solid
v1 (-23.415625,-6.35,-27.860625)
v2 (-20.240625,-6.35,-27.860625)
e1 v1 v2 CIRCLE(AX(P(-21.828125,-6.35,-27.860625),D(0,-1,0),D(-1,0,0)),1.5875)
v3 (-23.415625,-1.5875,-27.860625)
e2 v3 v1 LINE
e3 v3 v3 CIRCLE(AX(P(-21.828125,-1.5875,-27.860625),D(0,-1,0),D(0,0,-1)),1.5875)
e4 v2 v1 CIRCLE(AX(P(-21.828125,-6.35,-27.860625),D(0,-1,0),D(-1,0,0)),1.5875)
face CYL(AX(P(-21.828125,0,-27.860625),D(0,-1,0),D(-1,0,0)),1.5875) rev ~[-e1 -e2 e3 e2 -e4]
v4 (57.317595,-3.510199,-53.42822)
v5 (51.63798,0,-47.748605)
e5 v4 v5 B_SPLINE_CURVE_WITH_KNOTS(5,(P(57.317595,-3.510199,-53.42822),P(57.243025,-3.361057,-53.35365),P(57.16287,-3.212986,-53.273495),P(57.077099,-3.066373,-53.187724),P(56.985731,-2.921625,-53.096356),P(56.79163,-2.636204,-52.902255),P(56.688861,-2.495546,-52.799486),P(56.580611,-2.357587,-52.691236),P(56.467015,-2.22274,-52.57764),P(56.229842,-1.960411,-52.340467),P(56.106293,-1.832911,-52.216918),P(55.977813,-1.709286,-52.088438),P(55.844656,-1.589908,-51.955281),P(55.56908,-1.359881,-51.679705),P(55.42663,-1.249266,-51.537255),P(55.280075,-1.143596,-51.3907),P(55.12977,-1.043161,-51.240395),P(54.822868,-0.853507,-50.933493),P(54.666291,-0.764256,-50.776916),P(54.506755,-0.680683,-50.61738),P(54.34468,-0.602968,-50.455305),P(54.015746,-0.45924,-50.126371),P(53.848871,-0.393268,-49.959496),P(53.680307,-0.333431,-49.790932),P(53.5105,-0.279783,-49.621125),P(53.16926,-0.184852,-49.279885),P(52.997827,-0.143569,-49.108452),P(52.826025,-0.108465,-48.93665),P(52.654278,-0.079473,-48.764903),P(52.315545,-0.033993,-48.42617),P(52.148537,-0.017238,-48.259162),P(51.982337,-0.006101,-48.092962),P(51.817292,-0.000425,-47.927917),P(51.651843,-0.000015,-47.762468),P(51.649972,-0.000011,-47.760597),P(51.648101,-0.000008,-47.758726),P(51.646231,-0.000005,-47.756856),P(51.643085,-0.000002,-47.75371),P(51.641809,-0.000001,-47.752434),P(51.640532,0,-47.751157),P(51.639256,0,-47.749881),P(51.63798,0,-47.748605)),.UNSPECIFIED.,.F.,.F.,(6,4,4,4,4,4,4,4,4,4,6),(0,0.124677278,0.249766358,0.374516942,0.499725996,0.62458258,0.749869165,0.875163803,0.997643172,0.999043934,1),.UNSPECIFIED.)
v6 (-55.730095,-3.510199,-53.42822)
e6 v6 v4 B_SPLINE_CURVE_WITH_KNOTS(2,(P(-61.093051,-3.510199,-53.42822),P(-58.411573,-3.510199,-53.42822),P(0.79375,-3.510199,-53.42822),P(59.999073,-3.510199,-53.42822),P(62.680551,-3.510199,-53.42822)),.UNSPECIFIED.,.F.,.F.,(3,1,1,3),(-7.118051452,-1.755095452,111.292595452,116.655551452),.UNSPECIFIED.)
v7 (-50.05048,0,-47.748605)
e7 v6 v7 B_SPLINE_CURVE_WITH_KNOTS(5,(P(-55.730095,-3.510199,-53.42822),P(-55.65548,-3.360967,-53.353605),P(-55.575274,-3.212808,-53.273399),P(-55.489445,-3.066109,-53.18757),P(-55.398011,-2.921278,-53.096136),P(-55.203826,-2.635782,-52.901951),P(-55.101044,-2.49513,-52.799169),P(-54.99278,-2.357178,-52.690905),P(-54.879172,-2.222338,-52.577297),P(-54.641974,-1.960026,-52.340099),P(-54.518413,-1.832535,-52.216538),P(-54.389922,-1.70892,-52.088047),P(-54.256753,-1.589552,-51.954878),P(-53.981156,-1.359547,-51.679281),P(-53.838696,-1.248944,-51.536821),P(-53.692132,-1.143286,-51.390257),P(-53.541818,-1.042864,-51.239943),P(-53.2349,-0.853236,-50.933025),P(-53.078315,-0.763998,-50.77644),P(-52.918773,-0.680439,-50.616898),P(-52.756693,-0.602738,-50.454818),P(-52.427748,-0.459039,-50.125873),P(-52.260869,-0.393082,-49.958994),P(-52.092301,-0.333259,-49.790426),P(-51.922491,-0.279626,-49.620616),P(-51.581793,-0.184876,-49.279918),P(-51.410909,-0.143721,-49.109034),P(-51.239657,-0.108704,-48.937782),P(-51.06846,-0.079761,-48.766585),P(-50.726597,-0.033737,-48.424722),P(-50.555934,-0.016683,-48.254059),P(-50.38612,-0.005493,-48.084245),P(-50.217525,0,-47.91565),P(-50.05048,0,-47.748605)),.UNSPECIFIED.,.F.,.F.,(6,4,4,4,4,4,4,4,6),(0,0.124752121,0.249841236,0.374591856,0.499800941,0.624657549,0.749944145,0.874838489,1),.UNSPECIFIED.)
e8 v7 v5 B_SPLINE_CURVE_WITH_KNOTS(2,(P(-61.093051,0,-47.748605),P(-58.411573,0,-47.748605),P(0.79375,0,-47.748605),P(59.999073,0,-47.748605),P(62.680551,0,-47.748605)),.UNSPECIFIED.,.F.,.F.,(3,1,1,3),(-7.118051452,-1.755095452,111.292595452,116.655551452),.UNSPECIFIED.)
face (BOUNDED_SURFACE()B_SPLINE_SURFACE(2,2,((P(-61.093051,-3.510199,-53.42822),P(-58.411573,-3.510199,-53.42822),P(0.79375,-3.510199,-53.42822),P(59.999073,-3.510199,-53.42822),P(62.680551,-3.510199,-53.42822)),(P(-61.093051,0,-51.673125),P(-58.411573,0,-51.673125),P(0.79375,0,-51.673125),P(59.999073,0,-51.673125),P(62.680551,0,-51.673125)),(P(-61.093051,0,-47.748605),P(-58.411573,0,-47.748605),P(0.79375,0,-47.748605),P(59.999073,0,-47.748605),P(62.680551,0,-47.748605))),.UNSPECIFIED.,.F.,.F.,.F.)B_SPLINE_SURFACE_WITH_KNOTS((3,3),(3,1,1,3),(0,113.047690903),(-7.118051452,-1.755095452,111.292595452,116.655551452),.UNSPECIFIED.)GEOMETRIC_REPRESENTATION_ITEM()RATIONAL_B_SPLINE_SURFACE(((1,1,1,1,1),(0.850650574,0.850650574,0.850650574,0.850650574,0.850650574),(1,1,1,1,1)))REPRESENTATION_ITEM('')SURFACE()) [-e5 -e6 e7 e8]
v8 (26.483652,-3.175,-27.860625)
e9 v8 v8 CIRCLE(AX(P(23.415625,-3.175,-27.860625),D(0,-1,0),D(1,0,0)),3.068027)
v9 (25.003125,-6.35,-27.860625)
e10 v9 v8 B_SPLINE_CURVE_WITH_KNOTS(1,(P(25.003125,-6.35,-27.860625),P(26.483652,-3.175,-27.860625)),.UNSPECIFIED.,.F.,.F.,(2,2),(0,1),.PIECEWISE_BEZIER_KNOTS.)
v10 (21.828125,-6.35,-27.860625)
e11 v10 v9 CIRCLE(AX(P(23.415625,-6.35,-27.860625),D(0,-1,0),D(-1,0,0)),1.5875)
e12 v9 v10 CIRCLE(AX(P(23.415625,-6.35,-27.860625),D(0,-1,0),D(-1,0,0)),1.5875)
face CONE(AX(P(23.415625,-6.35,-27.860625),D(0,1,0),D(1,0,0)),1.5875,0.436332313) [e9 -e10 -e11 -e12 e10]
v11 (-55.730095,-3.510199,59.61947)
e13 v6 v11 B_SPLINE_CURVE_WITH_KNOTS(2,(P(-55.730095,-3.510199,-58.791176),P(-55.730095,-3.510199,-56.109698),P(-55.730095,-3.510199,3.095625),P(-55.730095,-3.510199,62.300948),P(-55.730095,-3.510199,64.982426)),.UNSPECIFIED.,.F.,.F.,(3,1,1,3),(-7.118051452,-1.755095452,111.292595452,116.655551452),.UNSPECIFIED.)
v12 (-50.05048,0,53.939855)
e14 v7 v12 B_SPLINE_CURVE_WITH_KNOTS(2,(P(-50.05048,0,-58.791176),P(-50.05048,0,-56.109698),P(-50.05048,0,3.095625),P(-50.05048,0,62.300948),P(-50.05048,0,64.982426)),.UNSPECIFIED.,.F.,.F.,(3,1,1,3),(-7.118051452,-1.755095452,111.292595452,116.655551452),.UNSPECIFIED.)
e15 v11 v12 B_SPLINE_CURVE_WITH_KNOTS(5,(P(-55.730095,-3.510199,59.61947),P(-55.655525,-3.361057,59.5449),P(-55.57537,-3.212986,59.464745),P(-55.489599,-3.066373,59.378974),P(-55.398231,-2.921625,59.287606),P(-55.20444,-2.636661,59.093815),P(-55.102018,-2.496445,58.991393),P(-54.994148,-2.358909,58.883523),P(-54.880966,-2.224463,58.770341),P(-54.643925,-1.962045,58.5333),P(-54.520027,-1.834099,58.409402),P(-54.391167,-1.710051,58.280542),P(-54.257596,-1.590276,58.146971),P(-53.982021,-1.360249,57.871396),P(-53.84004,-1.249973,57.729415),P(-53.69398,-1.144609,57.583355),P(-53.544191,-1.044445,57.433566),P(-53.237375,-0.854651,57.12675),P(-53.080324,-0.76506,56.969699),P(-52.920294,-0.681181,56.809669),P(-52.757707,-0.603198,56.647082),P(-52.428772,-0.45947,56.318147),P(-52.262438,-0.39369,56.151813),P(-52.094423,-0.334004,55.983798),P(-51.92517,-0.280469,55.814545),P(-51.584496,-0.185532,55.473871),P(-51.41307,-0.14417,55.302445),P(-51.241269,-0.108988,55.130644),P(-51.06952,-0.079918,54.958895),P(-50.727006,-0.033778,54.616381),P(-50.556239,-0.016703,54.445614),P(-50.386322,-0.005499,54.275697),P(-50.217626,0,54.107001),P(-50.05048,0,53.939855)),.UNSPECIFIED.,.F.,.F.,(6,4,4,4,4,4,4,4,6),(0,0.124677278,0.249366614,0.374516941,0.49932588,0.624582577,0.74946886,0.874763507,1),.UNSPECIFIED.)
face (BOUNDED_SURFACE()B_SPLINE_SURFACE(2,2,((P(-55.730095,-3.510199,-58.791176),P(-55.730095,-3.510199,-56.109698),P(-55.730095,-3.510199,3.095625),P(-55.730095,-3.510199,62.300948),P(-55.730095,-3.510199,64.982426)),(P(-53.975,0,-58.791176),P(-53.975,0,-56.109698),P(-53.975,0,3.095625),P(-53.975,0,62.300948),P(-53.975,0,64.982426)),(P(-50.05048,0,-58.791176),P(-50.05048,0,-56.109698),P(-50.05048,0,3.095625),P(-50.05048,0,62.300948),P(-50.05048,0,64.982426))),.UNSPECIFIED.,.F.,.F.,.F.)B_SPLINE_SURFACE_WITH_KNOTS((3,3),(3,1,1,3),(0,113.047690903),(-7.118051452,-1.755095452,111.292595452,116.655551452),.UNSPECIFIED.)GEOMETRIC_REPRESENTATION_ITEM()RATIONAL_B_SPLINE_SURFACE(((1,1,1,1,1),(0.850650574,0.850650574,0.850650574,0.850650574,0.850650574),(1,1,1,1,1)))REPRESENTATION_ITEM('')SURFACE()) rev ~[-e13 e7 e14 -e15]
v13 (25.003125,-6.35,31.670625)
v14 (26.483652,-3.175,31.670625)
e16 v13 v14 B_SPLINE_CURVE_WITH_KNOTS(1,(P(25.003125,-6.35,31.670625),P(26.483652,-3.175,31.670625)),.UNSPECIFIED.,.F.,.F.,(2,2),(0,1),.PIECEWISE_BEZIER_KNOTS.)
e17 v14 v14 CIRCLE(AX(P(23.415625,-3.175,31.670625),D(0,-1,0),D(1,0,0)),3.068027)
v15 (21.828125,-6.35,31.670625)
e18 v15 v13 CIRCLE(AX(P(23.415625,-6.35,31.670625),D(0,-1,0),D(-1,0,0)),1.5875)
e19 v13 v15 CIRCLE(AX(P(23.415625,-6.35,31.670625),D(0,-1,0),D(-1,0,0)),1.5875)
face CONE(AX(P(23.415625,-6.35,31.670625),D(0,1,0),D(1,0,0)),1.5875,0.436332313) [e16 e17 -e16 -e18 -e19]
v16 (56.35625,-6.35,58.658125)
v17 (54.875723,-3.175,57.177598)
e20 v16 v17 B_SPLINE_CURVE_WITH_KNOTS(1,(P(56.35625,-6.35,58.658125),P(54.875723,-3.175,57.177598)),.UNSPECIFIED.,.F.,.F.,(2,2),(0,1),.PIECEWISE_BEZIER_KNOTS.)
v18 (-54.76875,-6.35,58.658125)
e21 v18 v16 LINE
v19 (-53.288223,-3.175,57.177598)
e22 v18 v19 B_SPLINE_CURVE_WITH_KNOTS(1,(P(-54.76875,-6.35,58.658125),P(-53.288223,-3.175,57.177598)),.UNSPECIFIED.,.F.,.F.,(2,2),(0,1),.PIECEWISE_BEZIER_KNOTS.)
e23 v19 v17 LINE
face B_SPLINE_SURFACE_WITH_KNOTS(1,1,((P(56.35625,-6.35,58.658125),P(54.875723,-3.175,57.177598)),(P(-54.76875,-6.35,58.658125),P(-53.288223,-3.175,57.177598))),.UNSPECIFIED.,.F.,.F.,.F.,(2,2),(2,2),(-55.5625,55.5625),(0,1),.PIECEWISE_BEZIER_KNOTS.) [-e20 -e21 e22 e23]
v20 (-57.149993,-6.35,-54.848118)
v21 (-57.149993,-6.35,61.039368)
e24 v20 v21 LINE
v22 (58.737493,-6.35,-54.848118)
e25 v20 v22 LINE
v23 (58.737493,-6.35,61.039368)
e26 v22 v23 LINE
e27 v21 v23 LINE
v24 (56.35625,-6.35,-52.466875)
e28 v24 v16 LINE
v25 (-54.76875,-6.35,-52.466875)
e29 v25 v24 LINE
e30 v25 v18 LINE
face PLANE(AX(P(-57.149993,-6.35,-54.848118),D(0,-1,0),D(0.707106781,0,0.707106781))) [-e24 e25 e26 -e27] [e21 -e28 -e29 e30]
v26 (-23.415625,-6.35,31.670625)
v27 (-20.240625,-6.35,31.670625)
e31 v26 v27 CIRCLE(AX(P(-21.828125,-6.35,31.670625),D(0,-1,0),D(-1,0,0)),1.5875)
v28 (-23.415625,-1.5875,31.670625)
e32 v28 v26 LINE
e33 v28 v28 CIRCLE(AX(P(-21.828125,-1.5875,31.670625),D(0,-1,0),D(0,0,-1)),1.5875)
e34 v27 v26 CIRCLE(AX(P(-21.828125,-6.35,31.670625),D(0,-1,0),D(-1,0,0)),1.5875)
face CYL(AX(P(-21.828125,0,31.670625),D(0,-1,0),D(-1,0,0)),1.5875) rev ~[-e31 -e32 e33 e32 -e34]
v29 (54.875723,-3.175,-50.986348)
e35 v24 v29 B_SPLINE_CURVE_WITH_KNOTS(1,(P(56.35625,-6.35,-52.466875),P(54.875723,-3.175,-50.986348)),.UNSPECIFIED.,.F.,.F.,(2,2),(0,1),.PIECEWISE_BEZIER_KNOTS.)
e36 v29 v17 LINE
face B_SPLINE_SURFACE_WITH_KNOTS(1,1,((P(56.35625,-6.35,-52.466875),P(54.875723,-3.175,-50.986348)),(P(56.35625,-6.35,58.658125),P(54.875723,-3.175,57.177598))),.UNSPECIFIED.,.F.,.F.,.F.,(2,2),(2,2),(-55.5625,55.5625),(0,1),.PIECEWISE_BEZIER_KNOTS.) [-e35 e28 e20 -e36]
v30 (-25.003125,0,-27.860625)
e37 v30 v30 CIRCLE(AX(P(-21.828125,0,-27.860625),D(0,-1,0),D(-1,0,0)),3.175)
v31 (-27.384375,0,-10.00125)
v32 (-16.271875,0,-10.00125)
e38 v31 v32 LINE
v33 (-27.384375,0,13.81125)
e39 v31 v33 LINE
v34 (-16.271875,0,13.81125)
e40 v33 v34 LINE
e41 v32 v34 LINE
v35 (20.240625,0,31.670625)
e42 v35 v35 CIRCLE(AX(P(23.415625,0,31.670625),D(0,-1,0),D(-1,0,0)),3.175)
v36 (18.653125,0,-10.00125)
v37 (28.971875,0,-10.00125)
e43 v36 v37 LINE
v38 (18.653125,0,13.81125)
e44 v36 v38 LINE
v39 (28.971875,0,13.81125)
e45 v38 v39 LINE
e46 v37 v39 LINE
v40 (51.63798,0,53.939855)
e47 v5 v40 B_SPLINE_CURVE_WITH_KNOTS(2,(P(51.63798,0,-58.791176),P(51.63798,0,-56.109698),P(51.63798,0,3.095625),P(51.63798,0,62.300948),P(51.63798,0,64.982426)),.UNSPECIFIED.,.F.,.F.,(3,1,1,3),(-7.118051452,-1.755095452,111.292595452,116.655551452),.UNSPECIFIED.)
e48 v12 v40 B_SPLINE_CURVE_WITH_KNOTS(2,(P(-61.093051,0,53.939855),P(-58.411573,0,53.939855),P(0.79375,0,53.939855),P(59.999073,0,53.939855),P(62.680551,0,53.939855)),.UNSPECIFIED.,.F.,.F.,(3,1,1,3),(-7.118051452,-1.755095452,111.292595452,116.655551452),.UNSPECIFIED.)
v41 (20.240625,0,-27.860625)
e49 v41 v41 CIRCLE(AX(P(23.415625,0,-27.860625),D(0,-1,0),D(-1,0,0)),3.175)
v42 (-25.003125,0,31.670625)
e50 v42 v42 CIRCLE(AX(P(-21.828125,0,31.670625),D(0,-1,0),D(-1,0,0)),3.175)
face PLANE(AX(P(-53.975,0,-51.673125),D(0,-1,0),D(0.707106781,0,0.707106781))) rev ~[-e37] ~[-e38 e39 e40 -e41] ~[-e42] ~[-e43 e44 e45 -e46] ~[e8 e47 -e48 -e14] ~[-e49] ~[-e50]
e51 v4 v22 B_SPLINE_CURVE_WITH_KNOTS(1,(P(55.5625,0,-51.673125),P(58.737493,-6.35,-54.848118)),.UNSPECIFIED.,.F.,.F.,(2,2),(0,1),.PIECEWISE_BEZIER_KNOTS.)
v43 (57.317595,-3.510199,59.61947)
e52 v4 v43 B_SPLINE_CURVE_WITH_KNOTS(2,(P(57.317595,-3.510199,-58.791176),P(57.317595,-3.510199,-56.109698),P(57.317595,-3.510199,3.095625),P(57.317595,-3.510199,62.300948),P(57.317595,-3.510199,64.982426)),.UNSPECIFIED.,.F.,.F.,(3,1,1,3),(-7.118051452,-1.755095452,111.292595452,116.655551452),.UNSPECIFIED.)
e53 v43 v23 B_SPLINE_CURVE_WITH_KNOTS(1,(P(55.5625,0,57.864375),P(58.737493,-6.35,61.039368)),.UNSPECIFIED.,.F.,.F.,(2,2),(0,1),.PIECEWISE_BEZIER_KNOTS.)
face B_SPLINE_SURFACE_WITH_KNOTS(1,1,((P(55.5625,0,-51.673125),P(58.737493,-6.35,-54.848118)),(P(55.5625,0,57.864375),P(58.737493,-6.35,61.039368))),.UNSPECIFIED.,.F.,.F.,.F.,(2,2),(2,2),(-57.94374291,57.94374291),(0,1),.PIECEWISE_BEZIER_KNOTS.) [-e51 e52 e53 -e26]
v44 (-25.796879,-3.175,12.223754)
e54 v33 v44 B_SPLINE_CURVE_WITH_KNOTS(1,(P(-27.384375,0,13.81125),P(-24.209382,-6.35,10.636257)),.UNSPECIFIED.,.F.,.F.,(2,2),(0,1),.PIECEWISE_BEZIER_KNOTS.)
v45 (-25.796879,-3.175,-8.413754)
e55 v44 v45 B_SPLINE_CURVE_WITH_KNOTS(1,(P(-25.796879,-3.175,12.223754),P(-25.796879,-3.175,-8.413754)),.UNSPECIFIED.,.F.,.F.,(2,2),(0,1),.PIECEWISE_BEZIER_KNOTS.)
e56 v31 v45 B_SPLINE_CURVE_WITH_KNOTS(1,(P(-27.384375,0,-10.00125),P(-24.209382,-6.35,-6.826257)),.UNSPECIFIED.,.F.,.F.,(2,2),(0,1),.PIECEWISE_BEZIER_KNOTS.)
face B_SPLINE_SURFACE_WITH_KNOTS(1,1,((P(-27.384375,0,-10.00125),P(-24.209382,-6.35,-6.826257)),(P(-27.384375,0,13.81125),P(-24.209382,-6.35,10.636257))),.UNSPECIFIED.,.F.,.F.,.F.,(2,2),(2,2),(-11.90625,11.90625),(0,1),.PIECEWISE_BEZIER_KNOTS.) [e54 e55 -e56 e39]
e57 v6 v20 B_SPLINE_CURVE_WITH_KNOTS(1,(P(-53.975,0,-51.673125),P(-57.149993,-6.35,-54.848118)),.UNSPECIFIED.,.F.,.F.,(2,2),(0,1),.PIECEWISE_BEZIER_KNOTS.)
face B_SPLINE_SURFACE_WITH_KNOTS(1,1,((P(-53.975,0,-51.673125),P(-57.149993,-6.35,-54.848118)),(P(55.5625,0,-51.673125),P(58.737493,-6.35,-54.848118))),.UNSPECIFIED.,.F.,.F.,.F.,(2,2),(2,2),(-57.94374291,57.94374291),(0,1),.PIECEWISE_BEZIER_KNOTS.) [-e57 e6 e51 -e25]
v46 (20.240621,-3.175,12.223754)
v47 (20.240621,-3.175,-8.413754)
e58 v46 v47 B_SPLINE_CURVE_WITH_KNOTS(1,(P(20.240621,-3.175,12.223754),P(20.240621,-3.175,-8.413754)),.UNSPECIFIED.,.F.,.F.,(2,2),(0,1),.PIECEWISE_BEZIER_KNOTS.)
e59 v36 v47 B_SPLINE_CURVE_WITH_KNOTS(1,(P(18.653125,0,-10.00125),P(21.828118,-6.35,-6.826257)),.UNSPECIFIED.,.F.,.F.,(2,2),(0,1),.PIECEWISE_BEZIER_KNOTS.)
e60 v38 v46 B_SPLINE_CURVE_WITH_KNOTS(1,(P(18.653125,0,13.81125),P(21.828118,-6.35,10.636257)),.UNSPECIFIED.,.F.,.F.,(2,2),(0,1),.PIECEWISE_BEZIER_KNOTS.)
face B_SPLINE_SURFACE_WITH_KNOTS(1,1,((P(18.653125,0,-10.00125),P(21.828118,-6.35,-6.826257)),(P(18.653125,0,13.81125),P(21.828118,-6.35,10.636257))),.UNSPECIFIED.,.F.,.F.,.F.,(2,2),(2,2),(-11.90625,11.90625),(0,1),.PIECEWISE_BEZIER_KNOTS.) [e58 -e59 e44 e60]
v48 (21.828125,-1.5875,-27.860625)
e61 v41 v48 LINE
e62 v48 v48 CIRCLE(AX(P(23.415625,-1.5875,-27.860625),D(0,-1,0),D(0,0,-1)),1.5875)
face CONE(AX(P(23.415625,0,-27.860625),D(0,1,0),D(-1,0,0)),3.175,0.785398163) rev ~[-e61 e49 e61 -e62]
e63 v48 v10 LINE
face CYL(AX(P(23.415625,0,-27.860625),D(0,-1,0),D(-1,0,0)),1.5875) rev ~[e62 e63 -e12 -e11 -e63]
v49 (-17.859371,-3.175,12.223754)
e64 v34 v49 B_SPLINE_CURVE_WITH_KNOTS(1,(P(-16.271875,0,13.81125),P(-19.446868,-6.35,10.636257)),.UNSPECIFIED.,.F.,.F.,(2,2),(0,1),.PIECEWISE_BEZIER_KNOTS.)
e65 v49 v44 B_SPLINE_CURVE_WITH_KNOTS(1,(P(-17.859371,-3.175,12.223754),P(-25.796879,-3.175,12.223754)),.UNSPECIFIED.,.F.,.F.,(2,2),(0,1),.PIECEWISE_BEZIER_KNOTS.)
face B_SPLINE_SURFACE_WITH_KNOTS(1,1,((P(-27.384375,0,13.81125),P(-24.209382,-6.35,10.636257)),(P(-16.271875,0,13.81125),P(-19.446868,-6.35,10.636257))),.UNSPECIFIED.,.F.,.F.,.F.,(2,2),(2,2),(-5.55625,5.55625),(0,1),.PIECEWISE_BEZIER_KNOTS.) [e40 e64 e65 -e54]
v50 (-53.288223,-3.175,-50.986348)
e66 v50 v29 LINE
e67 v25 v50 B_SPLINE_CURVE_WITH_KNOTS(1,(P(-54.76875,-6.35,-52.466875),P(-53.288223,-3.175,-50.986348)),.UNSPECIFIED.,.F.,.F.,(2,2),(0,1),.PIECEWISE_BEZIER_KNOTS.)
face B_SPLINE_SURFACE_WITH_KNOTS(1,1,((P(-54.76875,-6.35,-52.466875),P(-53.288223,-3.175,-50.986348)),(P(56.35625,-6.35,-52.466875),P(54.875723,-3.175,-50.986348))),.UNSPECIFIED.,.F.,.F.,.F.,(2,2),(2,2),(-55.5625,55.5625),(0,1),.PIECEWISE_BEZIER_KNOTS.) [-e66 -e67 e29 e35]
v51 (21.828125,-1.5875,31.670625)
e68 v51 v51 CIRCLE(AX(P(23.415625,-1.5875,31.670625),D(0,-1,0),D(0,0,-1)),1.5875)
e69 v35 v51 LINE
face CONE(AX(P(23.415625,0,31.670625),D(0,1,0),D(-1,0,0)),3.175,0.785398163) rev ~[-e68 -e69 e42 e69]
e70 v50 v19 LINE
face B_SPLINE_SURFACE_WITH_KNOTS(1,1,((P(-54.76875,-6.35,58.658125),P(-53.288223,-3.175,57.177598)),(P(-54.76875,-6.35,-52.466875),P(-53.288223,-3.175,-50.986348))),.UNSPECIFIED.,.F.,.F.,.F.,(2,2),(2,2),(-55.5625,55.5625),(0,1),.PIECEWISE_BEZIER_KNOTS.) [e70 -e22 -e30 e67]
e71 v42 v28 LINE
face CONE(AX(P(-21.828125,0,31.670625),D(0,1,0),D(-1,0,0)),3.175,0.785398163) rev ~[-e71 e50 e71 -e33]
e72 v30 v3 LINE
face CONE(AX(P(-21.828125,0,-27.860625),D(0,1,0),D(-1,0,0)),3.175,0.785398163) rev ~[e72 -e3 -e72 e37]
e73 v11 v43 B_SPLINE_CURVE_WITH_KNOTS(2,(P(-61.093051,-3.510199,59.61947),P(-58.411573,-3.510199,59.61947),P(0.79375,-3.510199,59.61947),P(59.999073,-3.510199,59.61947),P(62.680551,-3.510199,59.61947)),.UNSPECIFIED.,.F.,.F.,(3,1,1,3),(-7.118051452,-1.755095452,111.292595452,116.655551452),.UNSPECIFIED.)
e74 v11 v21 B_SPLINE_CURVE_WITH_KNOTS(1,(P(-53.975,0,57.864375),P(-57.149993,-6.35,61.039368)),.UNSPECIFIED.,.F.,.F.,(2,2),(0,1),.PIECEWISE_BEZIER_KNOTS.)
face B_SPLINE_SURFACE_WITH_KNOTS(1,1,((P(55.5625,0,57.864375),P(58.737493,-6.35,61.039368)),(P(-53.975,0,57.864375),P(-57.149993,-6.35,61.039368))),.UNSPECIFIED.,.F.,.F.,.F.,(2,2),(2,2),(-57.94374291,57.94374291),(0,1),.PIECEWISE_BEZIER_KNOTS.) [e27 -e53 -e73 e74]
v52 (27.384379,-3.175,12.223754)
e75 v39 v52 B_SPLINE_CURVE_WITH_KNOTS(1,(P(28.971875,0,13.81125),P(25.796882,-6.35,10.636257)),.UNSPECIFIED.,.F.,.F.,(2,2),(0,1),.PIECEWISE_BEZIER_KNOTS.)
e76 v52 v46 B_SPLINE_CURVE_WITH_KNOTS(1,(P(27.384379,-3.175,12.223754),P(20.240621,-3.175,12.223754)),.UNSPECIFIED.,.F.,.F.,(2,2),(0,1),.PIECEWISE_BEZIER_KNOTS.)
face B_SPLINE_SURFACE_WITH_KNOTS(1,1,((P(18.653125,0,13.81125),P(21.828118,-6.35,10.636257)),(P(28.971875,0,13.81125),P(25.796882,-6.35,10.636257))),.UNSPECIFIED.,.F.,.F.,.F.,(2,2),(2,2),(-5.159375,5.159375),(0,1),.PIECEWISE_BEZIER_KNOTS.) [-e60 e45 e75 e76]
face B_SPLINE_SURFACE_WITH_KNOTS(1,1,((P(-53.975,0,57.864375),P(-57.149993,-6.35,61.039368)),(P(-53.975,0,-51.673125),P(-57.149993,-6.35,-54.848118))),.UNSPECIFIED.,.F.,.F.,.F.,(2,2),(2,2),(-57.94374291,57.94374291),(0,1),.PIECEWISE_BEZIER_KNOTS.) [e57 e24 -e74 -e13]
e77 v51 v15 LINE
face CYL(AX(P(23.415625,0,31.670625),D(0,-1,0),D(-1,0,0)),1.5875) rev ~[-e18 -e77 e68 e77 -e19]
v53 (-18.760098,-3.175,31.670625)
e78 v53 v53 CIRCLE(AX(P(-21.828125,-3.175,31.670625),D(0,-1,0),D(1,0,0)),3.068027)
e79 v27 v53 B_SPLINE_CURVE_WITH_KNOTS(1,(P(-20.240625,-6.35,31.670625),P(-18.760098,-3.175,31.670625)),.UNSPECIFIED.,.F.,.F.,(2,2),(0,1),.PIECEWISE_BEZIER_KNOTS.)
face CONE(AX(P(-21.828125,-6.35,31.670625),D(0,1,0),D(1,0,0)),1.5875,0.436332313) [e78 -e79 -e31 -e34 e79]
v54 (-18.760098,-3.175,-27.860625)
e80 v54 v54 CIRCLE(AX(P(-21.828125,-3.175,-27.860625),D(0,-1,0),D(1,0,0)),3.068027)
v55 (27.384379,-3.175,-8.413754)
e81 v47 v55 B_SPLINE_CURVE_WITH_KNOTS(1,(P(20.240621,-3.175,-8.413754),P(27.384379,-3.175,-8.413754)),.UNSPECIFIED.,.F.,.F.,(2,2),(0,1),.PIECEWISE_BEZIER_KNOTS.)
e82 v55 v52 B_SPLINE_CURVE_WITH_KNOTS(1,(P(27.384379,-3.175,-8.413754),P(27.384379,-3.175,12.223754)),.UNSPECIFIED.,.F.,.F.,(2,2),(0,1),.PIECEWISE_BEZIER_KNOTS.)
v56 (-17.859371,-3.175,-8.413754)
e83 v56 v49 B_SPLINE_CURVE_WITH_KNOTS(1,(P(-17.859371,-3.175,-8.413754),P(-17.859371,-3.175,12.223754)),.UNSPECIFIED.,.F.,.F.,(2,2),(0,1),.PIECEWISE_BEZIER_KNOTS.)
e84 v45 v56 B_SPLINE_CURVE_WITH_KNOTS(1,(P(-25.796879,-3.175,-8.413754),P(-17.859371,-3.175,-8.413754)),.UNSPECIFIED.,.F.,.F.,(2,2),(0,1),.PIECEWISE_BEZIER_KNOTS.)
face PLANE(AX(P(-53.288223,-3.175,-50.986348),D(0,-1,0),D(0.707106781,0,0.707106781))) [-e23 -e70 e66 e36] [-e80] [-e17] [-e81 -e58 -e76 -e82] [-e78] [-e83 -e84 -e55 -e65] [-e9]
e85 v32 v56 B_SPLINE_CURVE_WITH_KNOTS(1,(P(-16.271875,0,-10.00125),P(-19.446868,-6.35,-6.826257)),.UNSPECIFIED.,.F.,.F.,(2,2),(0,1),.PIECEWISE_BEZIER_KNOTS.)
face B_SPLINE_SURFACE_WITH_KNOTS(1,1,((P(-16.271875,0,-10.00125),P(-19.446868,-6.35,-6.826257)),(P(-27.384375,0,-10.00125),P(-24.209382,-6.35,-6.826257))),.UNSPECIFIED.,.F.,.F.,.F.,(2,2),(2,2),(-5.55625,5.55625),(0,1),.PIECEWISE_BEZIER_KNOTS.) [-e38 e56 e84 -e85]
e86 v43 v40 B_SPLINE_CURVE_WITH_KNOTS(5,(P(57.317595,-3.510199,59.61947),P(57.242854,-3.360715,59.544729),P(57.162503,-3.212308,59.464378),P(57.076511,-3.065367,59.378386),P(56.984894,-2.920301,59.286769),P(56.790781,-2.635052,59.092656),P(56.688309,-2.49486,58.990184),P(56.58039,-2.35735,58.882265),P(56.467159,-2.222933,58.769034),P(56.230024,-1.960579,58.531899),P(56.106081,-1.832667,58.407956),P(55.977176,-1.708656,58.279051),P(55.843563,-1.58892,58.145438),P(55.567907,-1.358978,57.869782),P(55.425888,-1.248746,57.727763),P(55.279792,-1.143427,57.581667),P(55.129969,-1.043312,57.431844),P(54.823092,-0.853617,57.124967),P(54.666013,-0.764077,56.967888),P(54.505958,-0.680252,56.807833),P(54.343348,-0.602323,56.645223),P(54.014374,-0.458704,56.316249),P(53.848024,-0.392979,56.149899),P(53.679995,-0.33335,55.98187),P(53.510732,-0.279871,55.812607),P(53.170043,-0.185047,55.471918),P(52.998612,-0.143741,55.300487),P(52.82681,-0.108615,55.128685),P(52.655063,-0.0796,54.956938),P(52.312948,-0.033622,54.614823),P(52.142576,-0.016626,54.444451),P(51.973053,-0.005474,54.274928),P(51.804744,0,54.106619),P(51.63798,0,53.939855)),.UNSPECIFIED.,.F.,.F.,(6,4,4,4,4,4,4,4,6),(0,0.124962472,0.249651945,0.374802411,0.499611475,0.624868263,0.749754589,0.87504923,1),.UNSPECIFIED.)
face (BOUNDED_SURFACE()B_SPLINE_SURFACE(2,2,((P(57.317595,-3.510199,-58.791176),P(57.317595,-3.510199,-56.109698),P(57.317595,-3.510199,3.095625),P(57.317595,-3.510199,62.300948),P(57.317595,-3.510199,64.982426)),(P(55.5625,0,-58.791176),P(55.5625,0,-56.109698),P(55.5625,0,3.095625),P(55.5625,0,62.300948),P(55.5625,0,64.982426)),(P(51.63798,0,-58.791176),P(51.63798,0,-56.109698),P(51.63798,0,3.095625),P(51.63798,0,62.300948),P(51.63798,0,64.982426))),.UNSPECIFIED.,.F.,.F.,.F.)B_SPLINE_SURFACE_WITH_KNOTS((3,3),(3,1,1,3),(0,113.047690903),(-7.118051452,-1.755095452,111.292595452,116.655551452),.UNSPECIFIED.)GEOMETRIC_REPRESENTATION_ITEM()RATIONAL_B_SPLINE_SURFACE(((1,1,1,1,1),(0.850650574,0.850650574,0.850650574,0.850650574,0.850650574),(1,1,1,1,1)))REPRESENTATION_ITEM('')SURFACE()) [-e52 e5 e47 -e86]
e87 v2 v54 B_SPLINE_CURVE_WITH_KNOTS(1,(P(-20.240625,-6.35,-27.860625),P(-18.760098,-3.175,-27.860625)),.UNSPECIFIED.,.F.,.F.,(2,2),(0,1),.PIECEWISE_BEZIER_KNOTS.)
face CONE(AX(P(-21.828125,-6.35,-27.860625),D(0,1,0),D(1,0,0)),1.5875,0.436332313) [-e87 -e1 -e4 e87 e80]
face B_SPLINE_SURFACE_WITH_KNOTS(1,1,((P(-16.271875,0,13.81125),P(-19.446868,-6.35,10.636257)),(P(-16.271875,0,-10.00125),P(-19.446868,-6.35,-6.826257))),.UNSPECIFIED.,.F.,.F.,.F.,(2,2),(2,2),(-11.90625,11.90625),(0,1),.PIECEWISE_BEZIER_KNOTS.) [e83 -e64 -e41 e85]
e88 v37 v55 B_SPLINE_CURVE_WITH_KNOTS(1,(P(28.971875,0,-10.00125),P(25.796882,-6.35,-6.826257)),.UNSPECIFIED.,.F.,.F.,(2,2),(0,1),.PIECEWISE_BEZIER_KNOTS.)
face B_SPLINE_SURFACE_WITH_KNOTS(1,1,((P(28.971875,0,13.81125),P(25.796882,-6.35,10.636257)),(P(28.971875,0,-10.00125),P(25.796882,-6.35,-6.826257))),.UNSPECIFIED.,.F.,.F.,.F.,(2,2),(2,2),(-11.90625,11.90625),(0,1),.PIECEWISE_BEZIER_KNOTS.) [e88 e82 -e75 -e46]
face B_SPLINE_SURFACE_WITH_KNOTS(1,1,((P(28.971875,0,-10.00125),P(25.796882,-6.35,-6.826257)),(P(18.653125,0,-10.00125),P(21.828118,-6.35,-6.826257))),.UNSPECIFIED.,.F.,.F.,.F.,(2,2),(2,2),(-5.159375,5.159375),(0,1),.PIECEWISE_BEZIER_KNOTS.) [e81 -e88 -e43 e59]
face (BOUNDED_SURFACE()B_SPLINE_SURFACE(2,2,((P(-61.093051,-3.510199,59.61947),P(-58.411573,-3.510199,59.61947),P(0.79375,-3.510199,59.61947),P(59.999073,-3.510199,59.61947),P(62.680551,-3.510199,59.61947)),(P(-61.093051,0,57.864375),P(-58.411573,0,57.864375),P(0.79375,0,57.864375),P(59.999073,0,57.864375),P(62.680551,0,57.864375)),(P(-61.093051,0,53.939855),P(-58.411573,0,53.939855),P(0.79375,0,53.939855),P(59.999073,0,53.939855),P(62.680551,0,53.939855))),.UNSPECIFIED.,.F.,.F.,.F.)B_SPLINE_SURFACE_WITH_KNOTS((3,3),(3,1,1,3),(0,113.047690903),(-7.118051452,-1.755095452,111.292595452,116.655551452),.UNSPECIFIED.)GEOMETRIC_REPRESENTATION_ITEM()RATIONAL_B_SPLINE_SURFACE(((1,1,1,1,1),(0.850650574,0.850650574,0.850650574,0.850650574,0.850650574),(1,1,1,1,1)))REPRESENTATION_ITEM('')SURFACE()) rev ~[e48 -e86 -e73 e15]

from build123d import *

# Parameters (mm, degrees)
F0_W           = 109.5375
F0_H           = 109.5375
F0_W_2         = 11.1125
F0_H_2         = 23.8125
F0_W_3         = 10.31875
F1_DEPTH       = 6.35
F1_TAPER       = -26.565
F2_D           = 3.175
F2_DEPTH       = 9.525
F2_CSINK_D     = 6.35
F2_CSINK_ANGLE = 90
F2_TIP         = 0.9538662327
F3_D           = 3.175
F3_DEPTH       = 9.525
F3_CSINK_D     = 6.35
F3_CSINK_ANGLE = 90
F3_TIP         = 0.9538662327
F4_D           = 3.175
F4_DEPTH       = 9.525
F4_CSINK_D     = 6.35
F4_CSINK_ANGLE = 90
F4_TIP         = 0.9538662327
F5_D           = 3.175
F5_DEPTH       = 9.525
F5_CSINK_D     = 6.35
F5_CSINK_ANGLE = 90
F5_TIP         = 0.9538662327
F6_R           = 6.35
F7_W           = 111.125
F7_H           = 111.125
F7_R           = 1.5875
F7_W_2         = 4.7625141797
F7_H_2         = 17.4625141797
F7_W_3         = 3.9687641797
F8_DEPTH       = 3.175
F8_TAPER       = 25


with BuildPart() as f1:
    # F0 (on Front) → F1 (new body)
    with BuildSketch(Plane.XZ):
        with Locations((0.79375, 3.095625)):
            Rectangle(F0_W, F0_H)
        with Locations((-21.828125, 1.905)):
            Rectangle(F0_W_2, F0_H_2, mode=Mode.SUBTRACT)
        with Locations((23.8125, 1.905)):
            Rectangle(F0_W_3, F0_H_2, mode=Mode.SUBTRACT)
    extrude(amount=F1_DEPTH, taper=F1_TAPER)

    # F2
    with Locations(Plane(origin=(0, 0, 0), x_dir=(1, 0, 0), z_dir=(0, 1, 0))):
        with Locations((-21.828125, -31.670625)):
            CounterSinkHole(F2_D / 2, F2_CSINK_D / 2, depth=F2_DEPTH, counter_sink_angle=F2_CSINK_ANGLE)
            with Locations((0, 0, -(F2_DEPTH + F2_TIP / 2))):  # 118° drill point
                Cone(0, F2_D / 2, F2_TIP, mode=Mode.SUBTRACT)

    # F3
    with Locations(Plane(origin=(0, 0, 0), x_dir=(1, 0, 0), z_dir=(0, 1, 0))):
        with Locations((23.415625, -31.670625)):
            CounterSinkHole(F3_D / 2, F3_CSINK_D / 2, depth=F3_DEPTH, counter_sink_angle=F3_CSINK_ANGLE)
            with Locations((0, 0, -(F3_DEPTH + F3_TIP / 2))):  # 118° drill point
                Cone(0, F3_D / 2, F3_TIP, mode=Mode.SUBTRACT)

    # F4
    with Locations(Plane(origin=(0, 0, 0), x_dir=(1, 0, 0), z_dir=(0, 1, 0))):
        with Locations((23.415625, 27.860625)):
            CounterSinkHole(F4_D / 2, F4_CSINK_D / 2, depth=F4_DEPTH, counter_sink_angle=F4_CSINK_ANGLE)
            with Locations((0, 0, -(F4_DEPTH + F4_TIP / 2))):  # 118° drill point
                Cone(0, F4_D / 2, F4_TIP, mode=Mode.SUBTRACT)

    # F5
    with Locations(Plane(origin=(0, 0, 0), x_dir=(1, 0, 0), z_dir=(0, 1, 0))):
        with Locations((-21.828125, 27.860625)):
            CounterSinkHole(F5_D / 2, F5_CSINK_D / 2, depth=F5_DEPTH, counter_sink_angle=F5_CSINK_ANGLE)
            with Locations((0, 0, -(F5_DEPTH + F5_TIP / 2))):  # 118° drill point
                Cone(0, F5_D / 2, F5_TIP, mode=Mode.SUBTRACT)

    # F6
    f6_edges = [f1.edges().sort_by_distance(p)[0] for p in [
        (0.79375, 0, 57.864375),
        (55.5625, 0, 3.095625),
        (-53.975, 0, 3.095625),
        (0.79375, 0, -51.673125),
    ]]
    fillet(f6_edges, radius=F6_R)

    # F7 (on face) → F8 (cut)
    with BuildSketch(Plane.XZ.offset(6.35)):
        with Locations((0.79375, 3.095625)):
            Rectangle(F7_W, F7_H)
        with Locations((-21.828125, -27.860625)):
            Circle(F7_R, mode=Mode.SUBTRACT)
        with Locations((-21.828125, 1.905)):
            Rectangle(F7_W_2, F7_H_2, mode=Mode.SUBTRACT)
        with Locations((23.415625, -27.860625)):
            Circle(F7_R, mode=Mode.SUBTRACT)
        with Locations((23.8125, 1.905)):
            Rectangle(F7_W_3, F7_H_2, mode=Mode.SUBTRACT)
        with Locations((-21.828125, 31.670625)):
            Circle(F7_R, mode=Mode.SUBTRACT)
        with Locations((23.415625, 31.670625)):
            Circle(F7_R, mode=Mode.SUBTRACT)
    extrude(amount=-F8_DEPTH, taper=F8_TAPER, mode=Mode.SUBTRACT)


solid = f1.part
